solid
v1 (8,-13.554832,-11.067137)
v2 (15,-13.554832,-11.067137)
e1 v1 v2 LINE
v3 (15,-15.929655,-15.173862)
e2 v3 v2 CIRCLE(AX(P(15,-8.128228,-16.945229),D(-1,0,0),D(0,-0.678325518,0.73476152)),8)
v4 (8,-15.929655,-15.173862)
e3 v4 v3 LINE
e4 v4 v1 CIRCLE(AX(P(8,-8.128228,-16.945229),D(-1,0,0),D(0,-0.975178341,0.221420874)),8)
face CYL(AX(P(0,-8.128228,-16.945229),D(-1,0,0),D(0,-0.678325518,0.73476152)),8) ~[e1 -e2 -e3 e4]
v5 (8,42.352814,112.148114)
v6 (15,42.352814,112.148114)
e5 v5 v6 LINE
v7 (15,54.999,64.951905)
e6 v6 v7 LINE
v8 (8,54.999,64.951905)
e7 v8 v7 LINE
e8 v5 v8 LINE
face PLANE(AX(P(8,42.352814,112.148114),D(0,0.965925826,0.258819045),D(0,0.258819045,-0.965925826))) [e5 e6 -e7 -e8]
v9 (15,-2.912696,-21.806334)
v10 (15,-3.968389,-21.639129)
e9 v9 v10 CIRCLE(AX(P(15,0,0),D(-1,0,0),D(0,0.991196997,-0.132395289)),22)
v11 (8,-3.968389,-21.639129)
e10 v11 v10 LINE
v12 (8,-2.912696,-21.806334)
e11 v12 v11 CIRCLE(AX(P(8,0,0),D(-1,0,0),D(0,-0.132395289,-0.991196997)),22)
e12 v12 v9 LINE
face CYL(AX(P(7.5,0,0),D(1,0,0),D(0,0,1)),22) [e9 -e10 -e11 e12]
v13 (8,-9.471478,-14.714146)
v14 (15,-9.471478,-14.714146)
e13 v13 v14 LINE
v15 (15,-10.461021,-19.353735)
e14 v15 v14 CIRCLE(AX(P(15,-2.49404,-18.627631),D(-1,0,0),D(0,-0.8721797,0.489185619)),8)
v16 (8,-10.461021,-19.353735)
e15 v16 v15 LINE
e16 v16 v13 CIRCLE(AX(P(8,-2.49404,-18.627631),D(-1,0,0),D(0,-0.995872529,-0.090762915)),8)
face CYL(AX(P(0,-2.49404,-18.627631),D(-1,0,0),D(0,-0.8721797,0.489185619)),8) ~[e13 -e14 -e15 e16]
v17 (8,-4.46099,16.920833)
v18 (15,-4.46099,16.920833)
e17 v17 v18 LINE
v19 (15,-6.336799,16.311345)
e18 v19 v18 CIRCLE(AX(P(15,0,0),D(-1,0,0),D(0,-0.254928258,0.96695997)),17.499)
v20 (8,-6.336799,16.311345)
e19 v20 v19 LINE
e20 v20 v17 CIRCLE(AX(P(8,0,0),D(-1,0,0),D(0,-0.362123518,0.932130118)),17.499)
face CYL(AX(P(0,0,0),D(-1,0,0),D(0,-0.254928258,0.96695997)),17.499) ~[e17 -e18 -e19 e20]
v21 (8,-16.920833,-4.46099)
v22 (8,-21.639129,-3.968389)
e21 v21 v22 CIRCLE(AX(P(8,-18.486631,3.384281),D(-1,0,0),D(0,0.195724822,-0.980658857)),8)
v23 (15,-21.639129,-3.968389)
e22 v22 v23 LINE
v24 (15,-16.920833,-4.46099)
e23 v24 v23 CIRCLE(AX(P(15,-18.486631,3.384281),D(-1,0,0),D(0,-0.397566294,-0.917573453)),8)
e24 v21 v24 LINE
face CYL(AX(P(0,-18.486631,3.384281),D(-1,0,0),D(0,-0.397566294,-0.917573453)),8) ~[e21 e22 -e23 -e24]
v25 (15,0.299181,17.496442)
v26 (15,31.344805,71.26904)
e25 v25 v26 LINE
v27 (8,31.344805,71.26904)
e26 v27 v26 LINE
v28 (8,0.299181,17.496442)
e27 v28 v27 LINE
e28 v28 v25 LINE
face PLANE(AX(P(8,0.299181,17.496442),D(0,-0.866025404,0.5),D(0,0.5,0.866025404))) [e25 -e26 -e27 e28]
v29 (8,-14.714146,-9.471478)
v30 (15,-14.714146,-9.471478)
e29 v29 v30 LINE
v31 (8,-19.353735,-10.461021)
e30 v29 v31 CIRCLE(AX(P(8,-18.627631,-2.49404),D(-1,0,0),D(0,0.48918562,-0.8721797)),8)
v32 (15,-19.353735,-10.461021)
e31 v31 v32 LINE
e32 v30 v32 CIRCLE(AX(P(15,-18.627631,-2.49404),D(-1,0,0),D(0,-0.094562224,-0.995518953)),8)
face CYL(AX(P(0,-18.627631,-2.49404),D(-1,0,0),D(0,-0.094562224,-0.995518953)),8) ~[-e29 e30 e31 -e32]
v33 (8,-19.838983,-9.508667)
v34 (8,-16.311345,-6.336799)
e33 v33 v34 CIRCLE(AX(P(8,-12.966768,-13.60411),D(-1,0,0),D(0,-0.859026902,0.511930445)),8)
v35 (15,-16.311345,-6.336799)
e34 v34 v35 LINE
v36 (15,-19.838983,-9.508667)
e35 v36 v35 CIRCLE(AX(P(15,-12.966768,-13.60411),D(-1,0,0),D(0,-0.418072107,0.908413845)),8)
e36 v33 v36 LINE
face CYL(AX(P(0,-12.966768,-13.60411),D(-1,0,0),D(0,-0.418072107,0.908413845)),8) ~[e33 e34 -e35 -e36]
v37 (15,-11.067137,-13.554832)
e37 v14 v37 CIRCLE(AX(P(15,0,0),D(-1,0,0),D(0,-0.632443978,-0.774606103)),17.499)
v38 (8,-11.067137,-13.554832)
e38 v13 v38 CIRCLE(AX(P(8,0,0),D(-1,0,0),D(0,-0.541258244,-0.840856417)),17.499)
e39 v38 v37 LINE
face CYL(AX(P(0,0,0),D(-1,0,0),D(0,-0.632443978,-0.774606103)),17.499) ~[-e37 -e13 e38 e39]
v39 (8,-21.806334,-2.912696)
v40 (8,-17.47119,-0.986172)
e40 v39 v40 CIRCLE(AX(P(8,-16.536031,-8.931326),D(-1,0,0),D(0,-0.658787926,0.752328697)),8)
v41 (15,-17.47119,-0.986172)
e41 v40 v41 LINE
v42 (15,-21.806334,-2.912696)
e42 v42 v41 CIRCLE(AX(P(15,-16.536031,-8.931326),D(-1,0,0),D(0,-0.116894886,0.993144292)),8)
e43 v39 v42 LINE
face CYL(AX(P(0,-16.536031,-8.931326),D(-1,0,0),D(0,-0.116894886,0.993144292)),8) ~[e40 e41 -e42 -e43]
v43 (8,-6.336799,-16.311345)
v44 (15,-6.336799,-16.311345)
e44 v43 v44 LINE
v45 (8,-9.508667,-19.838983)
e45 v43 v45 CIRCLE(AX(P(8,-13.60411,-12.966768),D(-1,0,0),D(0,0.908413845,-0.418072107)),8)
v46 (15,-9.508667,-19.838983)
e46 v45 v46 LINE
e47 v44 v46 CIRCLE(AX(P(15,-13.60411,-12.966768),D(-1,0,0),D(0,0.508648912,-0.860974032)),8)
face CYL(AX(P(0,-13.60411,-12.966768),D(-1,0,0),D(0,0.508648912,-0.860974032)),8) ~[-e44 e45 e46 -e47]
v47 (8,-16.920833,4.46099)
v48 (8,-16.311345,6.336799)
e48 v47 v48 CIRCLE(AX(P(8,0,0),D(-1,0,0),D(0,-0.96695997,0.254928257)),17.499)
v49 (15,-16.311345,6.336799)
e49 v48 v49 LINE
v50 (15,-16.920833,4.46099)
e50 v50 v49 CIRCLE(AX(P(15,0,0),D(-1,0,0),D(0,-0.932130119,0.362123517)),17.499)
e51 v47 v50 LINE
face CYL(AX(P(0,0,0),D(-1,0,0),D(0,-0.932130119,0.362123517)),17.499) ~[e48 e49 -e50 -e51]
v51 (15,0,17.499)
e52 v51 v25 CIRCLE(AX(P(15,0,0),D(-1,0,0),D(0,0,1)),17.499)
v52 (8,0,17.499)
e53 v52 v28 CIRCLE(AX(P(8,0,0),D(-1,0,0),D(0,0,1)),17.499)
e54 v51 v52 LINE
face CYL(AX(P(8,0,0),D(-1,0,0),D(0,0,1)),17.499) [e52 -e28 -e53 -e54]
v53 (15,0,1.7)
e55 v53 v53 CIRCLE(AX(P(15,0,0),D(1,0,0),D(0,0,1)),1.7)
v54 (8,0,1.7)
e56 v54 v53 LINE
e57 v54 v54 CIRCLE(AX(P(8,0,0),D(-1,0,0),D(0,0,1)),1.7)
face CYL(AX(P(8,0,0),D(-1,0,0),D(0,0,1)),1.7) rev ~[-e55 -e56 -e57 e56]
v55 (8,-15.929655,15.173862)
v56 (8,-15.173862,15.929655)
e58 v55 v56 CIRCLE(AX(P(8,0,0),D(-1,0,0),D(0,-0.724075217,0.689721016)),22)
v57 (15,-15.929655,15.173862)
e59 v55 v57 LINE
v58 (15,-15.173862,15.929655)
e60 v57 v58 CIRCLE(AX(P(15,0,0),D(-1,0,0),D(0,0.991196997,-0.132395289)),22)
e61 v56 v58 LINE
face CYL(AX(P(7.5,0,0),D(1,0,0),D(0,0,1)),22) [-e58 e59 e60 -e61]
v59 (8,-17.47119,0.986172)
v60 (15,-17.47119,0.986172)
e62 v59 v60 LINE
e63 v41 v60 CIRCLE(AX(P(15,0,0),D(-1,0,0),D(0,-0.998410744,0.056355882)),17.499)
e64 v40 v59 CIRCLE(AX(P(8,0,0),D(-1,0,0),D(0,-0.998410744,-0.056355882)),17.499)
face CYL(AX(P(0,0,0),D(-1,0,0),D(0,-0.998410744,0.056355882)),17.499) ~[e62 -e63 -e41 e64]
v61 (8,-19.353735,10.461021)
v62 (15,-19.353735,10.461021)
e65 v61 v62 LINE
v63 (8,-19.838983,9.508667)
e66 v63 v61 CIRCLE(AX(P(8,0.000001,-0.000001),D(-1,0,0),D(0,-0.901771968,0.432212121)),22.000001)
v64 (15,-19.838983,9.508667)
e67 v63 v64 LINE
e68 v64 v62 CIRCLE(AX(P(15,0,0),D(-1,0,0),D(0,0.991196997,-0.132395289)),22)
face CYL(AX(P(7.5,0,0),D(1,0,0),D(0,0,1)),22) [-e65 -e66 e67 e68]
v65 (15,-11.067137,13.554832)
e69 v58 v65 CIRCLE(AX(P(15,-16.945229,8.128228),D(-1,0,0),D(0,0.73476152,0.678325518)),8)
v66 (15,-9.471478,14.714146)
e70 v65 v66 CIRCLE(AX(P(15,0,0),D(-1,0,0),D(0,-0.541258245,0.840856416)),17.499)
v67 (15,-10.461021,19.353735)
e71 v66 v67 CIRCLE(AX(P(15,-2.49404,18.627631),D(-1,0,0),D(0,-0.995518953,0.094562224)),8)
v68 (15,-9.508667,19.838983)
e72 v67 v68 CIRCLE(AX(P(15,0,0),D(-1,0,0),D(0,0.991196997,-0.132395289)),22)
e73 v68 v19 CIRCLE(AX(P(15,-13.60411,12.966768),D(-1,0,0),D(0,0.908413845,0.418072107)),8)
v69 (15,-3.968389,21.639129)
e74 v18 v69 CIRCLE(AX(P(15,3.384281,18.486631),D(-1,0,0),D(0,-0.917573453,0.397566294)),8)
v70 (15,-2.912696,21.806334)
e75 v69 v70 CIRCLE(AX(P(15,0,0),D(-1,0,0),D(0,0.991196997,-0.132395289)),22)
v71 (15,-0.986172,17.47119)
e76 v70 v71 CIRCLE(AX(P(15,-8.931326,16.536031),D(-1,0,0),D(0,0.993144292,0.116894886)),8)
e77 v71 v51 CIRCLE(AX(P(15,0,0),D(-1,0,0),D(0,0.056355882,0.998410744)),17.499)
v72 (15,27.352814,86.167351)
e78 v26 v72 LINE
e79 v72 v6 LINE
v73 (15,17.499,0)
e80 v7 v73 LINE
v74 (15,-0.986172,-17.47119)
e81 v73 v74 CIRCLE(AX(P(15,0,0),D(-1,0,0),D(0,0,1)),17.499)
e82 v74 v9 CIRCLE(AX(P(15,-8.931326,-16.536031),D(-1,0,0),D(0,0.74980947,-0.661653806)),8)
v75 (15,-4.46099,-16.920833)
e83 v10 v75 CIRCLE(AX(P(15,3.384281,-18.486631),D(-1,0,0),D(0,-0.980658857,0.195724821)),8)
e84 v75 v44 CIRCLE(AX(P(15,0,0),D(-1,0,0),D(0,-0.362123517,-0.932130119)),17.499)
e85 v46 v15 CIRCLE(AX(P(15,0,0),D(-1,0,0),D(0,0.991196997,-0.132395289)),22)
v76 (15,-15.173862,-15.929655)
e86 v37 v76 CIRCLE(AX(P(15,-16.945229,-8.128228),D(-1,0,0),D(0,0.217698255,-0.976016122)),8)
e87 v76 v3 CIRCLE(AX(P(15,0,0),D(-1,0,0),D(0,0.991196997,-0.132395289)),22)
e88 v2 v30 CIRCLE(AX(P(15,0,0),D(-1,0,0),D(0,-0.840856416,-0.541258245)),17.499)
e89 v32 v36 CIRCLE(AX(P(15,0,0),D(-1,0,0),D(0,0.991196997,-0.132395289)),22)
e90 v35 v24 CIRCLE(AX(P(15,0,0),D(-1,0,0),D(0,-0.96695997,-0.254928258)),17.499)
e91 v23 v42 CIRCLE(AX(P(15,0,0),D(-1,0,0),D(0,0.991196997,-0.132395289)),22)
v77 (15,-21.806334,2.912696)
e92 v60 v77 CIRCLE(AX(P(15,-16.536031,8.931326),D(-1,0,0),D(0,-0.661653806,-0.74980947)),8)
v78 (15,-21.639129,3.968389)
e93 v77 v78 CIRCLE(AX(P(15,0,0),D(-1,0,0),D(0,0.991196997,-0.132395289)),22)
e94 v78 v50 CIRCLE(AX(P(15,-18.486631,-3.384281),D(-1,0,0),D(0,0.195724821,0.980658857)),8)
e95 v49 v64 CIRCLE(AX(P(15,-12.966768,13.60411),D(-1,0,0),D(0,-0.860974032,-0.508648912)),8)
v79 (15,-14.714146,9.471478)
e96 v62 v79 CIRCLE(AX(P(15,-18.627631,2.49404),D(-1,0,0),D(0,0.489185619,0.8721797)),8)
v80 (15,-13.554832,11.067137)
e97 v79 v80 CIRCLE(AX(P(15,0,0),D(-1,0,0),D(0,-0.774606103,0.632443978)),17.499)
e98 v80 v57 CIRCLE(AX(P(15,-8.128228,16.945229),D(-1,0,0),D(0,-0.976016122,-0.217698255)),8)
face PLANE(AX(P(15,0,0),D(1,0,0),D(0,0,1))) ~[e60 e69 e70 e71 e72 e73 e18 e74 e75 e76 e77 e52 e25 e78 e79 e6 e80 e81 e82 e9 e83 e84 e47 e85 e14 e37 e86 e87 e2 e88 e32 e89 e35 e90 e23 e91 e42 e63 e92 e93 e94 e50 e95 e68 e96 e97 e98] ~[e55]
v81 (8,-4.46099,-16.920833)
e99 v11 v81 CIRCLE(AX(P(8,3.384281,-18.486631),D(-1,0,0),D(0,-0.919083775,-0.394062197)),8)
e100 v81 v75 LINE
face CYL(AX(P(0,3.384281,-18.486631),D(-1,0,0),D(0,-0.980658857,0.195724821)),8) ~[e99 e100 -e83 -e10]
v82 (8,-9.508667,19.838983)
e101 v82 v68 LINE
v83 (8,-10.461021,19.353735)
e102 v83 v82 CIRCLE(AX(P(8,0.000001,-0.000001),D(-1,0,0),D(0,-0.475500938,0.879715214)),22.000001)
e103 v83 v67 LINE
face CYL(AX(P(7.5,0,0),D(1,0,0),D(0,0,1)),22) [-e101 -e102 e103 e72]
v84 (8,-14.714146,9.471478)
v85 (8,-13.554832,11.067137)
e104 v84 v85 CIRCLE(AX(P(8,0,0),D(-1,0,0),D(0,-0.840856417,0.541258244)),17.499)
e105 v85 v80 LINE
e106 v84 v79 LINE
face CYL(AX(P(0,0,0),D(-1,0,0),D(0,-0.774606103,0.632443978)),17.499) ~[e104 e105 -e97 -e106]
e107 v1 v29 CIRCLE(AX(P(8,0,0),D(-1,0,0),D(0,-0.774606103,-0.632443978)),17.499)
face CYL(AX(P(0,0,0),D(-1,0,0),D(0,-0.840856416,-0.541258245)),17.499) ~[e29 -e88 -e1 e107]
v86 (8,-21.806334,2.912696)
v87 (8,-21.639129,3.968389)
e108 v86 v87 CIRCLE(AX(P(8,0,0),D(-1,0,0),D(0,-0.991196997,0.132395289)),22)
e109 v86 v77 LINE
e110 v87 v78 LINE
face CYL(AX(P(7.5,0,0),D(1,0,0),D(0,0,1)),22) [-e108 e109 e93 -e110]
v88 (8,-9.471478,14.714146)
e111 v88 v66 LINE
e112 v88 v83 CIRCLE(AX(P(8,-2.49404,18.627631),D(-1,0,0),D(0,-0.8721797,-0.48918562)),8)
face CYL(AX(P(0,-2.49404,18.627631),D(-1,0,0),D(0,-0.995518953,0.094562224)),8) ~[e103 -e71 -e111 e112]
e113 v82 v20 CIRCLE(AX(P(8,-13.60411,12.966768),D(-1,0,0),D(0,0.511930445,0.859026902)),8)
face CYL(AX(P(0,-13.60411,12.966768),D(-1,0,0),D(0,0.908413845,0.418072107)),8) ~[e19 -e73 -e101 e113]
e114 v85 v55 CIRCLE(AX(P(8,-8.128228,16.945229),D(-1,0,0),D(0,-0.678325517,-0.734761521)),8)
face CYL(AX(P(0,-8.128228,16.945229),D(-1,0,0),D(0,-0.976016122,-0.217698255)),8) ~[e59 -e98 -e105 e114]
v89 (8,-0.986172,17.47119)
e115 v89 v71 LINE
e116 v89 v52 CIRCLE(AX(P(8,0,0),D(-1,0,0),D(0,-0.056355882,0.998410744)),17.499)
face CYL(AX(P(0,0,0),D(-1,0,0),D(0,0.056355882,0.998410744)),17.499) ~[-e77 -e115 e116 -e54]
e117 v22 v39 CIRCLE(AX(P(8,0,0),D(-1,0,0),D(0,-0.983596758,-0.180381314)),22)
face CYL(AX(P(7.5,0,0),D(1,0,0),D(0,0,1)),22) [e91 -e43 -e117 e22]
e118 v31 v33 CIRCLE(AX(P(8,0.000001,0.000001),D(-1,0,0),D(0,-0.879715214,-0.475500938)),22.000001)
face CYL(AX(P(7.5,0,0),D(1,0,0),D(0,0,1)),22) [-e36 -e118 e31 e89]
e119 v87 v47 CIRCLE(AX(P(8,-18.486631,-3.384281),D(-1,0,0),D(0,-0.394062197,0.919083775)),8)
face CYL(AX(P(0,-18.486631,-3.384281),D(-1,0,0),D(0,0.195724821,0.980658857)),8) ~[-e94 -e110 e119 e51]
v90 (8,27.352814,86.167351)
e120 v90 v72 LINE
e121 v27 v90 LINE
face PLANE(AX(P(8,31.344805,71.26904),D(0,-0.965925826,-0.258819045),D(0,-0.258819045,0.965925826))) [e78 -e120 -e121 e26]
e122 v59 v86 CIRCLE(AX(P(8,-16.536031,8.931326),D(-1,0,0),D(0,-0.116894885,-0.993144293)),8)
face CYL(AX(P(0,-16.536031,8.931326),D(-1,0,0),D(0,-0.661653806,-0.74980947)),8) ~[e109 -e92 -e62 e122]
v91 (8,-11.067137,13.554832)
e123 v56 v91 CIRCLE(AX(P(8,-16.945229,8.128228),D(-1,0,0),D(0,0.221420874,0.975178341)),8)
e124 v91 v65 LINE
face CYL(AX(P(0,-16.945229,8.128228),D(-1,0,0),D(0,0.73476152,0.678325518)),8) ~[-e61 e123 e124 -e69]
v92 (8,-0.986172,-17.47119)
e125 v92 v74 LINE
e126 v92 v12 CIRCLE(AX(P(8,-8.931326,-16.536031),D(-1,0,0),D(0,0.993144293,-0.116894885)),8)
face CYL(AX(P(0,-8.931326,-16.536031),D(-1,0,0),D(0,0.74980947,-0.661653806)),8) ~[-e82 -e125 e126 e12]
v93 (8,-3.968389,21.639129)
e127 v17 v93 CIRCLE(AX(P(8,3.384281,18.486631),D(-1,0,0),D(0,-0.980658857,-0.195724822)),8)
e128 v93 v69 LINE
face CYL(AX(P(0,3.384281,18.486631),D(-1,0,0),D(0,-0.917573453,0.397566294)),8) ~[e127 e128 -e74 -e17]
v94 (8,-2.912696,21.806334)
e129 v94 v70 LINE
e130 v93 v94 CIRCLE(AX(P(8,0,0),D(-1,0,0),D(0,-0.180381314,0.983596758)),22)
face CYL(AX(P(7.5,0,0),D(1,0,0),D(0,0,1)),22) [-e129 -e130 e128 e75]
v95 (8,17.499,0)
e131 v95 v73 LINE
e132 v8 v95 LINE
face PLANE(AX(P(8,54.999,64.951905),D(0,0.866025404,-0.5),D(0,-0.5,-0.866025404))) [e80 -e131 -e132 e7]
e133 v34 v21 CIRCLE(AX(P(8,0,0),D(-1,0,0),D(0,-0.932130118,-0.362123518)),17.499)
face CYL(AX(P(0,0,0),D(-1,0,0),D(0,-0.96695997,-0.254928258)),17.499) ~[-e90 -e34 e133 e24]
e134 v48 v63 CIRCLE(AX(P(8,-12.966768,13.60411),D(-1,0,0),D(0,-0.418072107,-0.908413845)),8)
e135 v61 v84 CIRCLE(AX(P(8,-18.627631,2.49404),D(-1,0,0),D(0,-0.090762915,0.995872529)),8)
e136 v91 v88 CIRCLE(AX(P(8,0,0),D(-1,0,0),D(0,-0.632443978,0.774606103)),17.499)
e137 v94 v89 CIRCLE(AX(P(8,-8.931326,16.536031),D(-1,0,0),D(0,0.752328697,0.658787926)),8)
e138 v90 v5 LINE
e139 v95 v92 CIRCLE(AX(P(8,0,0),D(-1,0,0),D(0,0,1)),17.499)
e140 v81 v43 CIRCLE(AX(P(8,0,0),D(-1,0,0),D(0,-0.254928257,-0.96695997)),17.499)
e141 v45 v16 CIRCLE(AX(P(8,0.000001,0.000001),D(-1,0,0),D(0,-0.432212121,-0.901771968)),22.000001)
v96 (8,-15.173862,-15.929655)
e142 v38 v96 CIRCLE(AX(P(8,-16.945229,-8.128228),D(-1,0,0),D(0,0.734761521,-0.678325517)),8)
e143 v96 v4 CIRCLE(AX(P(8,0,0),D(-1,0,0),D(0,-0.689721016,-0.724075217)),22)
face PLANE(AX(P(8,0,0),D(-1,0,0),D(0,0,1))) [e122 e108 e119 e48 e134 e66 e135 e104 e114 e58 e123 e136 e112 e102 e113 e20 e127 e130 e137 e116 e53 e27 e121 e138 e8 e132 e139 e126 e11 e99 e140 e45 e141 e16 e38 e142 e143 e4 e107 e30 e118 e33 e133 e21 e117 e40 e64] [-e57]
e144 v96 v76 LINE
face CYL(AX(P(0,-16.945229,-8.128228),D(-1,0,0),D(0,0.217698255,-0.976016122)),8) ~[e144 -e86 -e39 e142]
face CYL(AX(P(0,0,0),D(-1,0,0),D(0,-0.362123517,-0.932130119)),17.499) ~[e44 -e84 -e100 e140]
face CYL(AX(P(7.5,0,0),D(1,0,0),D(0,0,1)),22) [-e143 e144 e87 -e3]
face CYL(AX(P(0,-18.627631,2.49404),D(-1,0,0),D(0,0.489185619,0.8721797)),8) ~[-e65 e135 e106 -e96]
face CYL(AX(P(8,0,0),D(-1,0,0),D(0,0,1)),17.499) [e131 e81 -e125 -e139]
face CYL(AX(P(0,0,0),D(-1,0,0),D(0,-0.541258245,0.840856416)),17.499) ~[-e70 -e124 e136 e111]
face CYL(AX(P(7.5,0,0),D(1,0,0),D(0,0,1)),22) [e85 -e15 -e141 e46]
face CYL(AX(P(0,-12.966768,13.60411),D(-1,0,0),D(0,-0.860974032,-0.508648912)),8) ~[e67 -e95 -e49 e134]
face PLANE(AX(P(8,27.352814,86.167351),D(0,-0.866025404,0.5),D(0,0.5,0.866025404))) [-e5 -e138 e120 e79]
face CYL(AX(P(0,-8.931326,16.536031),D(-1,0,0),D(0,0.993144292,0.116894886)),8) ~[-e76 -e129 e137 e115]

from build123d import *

# Parameters (mm, degrees)
BASPROSKE_W         = 15
BASPROSKE_H         = 22
TOOTHCUT_DEPTH      = 35.539832078
TEETHCUTS_COUNT     = 20
TEETHCUTS_ANGLE     = 342
BORSKE_R            = 0.5
BORE_DEPTH          = 50.0000508
SKETCH1_R           = 11.1
CUT_EXTRUDE1_DEPTH  = 16
CUT_EXTRUDE2_DEPTH  = 8
SKETCH3_R           = 11.1
BOSS_EXTRUDE2_DEPTH = 7
SKETCH5_W           = 56.998857039
SKETCH5_H           = 22.722114901
CUT_EXTRUDE3_DEPTH  = 7
SKETCH6_R           = 17.499
BOSS_EXTRUDE3_DEPTH = 7
SKETCH7_R           = 1.7
CUT_EXTRUDE4_DEPTH  = 7
BOSS_EXTRUDE5_DEPTH = 7


with BuildPart() as part:
    # BasProSke → Base-Revolve (revolve)
    with BuildSketch(Plane(origin=(0, 0, 0), x_dir=(1, 0, 0), z_dir=(0, 1, 0)), mode=Mode.PRIVATE) as base_revolve_sk:
        with Locations((7.5, 11)):
            Rectangle(BASPROSKE_W, BASPROSKE_H)
    revolve(base_revolve_sk.sketch.rotate(Axis((-10, 0, 0), (1, 0, 0)), 180), axis=Axis((-10, 0, 0), (1, 0, 0)))

    # TooCutSke → ToothCut (cut, through all)
    with BuildSketch(Plane(origin=(0, 0, 0), x_dir=(0, 0, -1), z_dir=(1, 0, 0))):
        with BuildLine():
            ThreePointArc((0.986171591, 17.471189616), (0, 17.499), (-0.986171591, 17.471189616))
            ThreePointArc((-0.986171591, 17.471189616), (-1.626916196, 19.798789858), (-2.932850173, 21.829260982))
            ThreePointArc((-2.932850173, 21.829260982), (0, 22.0254), (2.932850173, 21.829260982))
            ThreePointArc((2.932850173, 21.829260982), (1.626916196, 19.798789858), (0.986171591, 17.471189616))
        make_face()
    toothcut = extrude(amount=TOOTHCUT_DEPTH, mode=Mode.SUBTRACT)

    # TeethCuts: ToothCut ×20 about axis
    teethcuts_axis = Axis((-10, 0, 0), (1, 0, 0))
    for i in range(1, TEETHCUTS_COUNT):
        add(toothcut.rotate(teethcuts_axis, i * TEETHCUTS_ANGLE / (TEETHCUTS_COUNT - 1)), mode=Mode.SUBTRACT)

    # BorSke → Bore (cut, symmetric)
    with BuildSketch(Plane(origin=(0, 0, 0), x_dir=(0, 0, -1), z_dir=(1, 0, 0))):
        with Locations(Location((0, 0, 0), (0, 0, 180))):
            Circle(BORSKE_R)
    extrude(amount=BORE_DEPTH, both=True, mode=Mode.SUBTRACT)

    # Sketch1 → Cut-Extrude1 (cut)
    with BuildSketch(Plane.ZY):
        Circle(SKETCH1_R)
    extrude(amount=-CUT_EXTRUDE1_DEPTH, mode=Mode.SUBTRACT)

    # Sketch2 → Cut-Extrude2 (cut)
    with BuildSketch(Plane.ZY):
        with BuildLine():
            ThreePointArc((17.471189616, 0.986171591), (19.784848102, 1.620704589), (21.806333941, 2.912696354))
            ThreePointArc((21.806333941, 2.912696354), (21.729143493, 3.441558231), (21.639128664, 3.968388926))
            ThreePointArc((21.639128664, 3.968388926), (19.317333972, 4.572472634), (16.920832513, 4.460989585))
            ThreePointArc((16.920832513, 4.460989585), (16.642537979, 5.407488385), (16.31134495, 6.336799421))
            ThreePointArc((16.31134495, 6.336799421), (18.31568345, 7.655235955), (19.838983319, 9.50866662))
            ThreePointArc((19.838983319, 9.50866662), (19.602143532, 9.987790994), (19.353734704, 10.461020648))
            ThreePointArc((19.353734704, 10.461020648), (16.958904602, 10.318064378), (14.714146429, 9.471478019))
            ThreePointArc((14.714146429, 9.471478019), (14.156988385, 10.28565413), (13.554832194, 11.067137173))
            ThreePointArc((13.554832194, 11.067137173), (15.05365209, 12.940419489), (15.929654782, 15.173862347))
            ThreePointArc((15.929654782, 15.173862347), (15.556349186, 15.556349186), (15.173862347, 15.929654782))
            ThreePointArc((15.173862347, 15.929654782), (12.940419489, 15.05365209), (11.067137173, 13.554832194))
            ThreePointArc((11.067137173, 13.554832194), (10.28565413, 14.156988385), (9.471478019, 14.714146429))
            ThreePointArc((9.471478019, 14.714146429), (10.318064378, 16.958904602), (10.461020648, 19.353734704))
            ThreePointArc((10.461020648, 19.353734704), (9.987790994, 19.602143532), (9.50866662, 19.838983319))
            ThreePointArc((9.50866662, 19.838983319), (7.655235955, 18.31568345), (6.336799421, 16.31134495))
            ThreePointArc((6.336799421, 16.31134495), (5.407488385, 16.642537979), (4.460989585, 16.920832513))
            ThreePointArc((4.460989585, 16.920832513), (4.572472634, 19.317333972), (3.968388926, 21.639128664))
            ThreePointArc((3.968388926, 21.639128664), (3.441558231, 21.729143493), (2.912696354, 21.806333941))
            ThreePointArc((2.912696354, 21.806333941), (1.620704589, 19.784848102), (0.986171591, 17.471189616))
            ThreePointArc((0.986171591, 17.471189616), (0, 17.499), (-0.986171591, 17.471189616))
            ThreePointArc((-0.986171591, 17.471189616), (-1.620704589, 19.784848102), (-2.912696354, 21.806333941))
            ThreePointArc((-2.912696354, 21.806333941), (-3.441558231, 21.729143493), (-3.968388926, 21.639128664))
            ThreePointArc((-3.968388926, 21.639128664), (-4.572472634, 19.317333972), (-4.460989585, 16.920832513))
            ThreePointArc((-4.460989585, 16.920832513), (-5.407488385, 16.642537979), (-6.336799421, 16.31134495))
            ThreePointArc((-6.336799421, 16.31134495), (-7.655235955, 18.31568345), (-9.50866662, 19.838983319))
            ThreePointArc((-9.50866662, 19.838983319), (-9.987790994, 19.602143532), (-10.461020648, 19.353734704))
            ThreePointArc((-10.461020648, 19.353734704), (-10.318064378, 16.958904602), (-9.471478019, 14.714146429))
            ThreePointArc((-9.471478019, 14.714146429), (-10.28565413, 14.156988385), (-11.067137173, 13.554832194))
            ThreePointArc((-11.067137173, 13.554832194), (-12.940419489, 15.05365209), (-15.173862347, 15.929654782))
            ThreePointArc((-15.173862347, 15.929654782), (-15.556349186, 15.556349186), (-15.929654782, 15.173862347))
            ThreePointArc((-15.929654782, 15.173862347), (-15.05365209, 12.940419489), (-13.554832194, 11.067137173))
            ThreePointArc((-13.554832194, 11.067137173), (-14.156988385, 10.28565413), (-14.714146429, 9.471478019))
            ThreePointArc((-14.714146429, 9.471478019), (-16.958904602, 10.318064378), (-19.353734704, 10.461020648))
            ThreePointArc((-19.353734704, 10.461020648), (-19.602143532, 9.987790994), (-19.838983319, 9.50866662))
            ThreePointArc((-19.838983319, 9.50866662), (-18.31568345, 7.655235955), (-16.31134495, 6.336799421))
            ThreePointArc((-16.31134495, 6.336799421), (-16.642537979, 5.407488385), (-16.920832513, 4.460989585))
            ThreePointArc((-16.920832513, 4.460989585), (-19.317333972, 4.572472634), (-21.639128664, 3.968388926))
            ThreePointArc((-21.639128664, 3.968388926), (-21.729143493, 3.441558231), (-21.806333941, 2.912696354))
            ThreePointArc((-21.806333941, 2.912696354), (-19.784848102, 1.620704589), (-17.471189616, 0.986171591))
            ThreePointArc((-17.471189616, 0.986171591), (-17.499, 0), (-17.471189616, -0.986171591))
            ThreePointArc((-17.471189616, -0.986171591), (-19.784848102, -1.620704589), (-21.806333941, -2.912696354))
            ThreePointArc((-21.806333941, -2.912696354), (-21.729143493, -3.441558231), (-21.639128664, -3.968388926))
            ThreePointArc((-21.639128664, -3.968388926), (-19.317333972, -4.572472634), (-16.920832513, -4.460989585))
            ThreePointArc((-16.920832513, -4.460989585), (-16.642537979, -5.407488385), (-16.31134495, -6.336799421))
            ThreePointArc((-16.31134495, -6.336799421), (-18.31568345, -7.655235955), (-19.838983319, -9.50866662))
            ThreePointArc((-19.838983319, -9.50866662), (-19.602143532, -9.987790994), (-19.353734704, -10.461020648))
            ThreePointArc((-19.353734704, -10.461020648), (-16.958904602, -10.318064378), (-14.714146429, -9.471478019))
            ThreePointArc((-14.714146429, -9.471478019), (-14.156988385, -10.28565413), (-13.554832194, -11.067137173))
            ThreePointArc((-13.554832194, -11.067137173), (-15.05365209, -12.940419489), (-15.929654782, -15.173862347))
            ThreePointArc((-15.929654782, -15.173862347), (-15.556349186, -15.556349186), (-15.173862347, -15.929654782))
            ThreePointArc((-15.173862347, -15.929654782), (-12.940419489, -15.05365209), (-11.067137173, -13.554832194))
            ThreePointArc((-11.067137173, -13.554832194), (-10.28565413, -14.156988385), (-9.471478019, -14.714146429))
            ThreePointArc((-9.471478019, -14.714146429), (-10.318064378, -16.958904602), (-10.461020648, -19.353734704))
            ThreePointArc((-10.461020648, -19.353734704), (-9.987790994, -19.602143532), (-9.50866662, -19.838983319))
            ThreePointArc((-9.50866662, -19.838983319), (-7.655235955, -18.31568345), (-6.336799421, -16.31134495))
            ThreePointArc((-6.336799421, -16.31134495), (-5.407488385, -16.642537979), (-4.460989585, -16.920832513))
            ThreePointArc((-4.460989585, -16.920832513), (-4.572472634, -19.317333972), (-3.968388926, -21.639128664))
            ThreePointArc((-3.968388926, -21.639128664), (-3.441558231, -21.729143493), (-2.912696354, -21.806333941))
            ThreePointArc((-2.912696354, -21.806333941), (-1.620704589, -19.784848102), (-0.986171591, -17.471189616))
            ThreePointArc((-0.986171591, -17.471189616), (0, -17.499), (0.986171591, -17.471189616))
            ThreePointArc((0.986171591, -17.471189616), (1.620704589, -19.784848102), (2.912696354, -21.806333941))
            ThreePointArc((2.912696354, -21.806333941), (3.441558231, -21.729143493), (3.968388926, -21.639128664))
            ThreePointArc((3.968388926, -21.639128664), (4.572472634, -19.317333972), (4.460989585, -16.920832513))
            ThreePointArc((4.460989585, -16.920832513), (5.407488385, -16.642537979), (6.336799421, -16.31134495))
            ThreePointArc((6.336799421, -16.31134495), (7.655235955, -18.31568345), (9.50866662, -19.838983319))
            ThreePointArc((9.50866662, -19.838983319), (9.987790994, -19.602143532), (10.461020648, -19.353734704))
            ThreePointArc((10.461020648, -19.353734704), (10.318064378, -16.958904602), (9.471478019, -14.714146429))
            ThreePointArc((9.471478019, -14.714146429), (10.28565413, -14.156988385), (11.067137173, -13.554832194))
            ThreePointArc((11.067137173, -13.554832194), (12.940419489, -15.05365209), (15.173862347, -15.929654782))
            ThreePointArc((15.173862347, -15.929654782), (15.556349186, -15.556349186), (15.929654782, -15.173862347))
            ThreePointArc((15.929654782, -15.173862347), (15.05365209, -12.940419489), (13.554832194, -11.067137173))
            ThreePointArc((13.554832194, -11.067137173), (14.156988385, -10.28565413), (14.714146429, -9.471478019))
            ThreePointArc((14.714146429, -9.471478019), (16.958904602, -10.318064378), (19.353734704, -10.461020648))
            ThreePointArc((19.353734704, -10.461020648), (19.602143532, -9.987790994), (19.838983319, -9.50866662))
            ThreePointArc((19.838983319, -9.50866662), (18.31568345, -7.655235955), (16.31134495, -6.336799421))
            ThreePointArc((16.31134495, -6.336799421), (16.642537979, -5.407488385), (16.920832513, -4.460989585))
            ThreePointArc((16.920832513, -4.460989585), (19.317333972, -4.572472634), (21.639128664, -3.968388926))
            ThreePointArc((21.639128664, -3.968388926), (21.729143493, -3.441558231), (21.806333941, -2.912696354))
            ThreePointArc((21.806333941, -2.912696354), (19.784848102, -1.620704589), (17.471189616, -0.986171591))
            ThreePointArc((17.471189616, -0.986171591), (17.499, 0), (17.471189616, 0.986171591))
        make_face()
    extrude(amount=-CUT_EXTRUDE2_DEPTH, mode=Mode.SUBTRACT)

    # Sketch3 → Boss-Extrude2 (add)
    with BuildSketch(Plane.ZY.offset(-8)):
        Circle(SKETCH3_R)
    extrude(amount=-BOSS_EXTRUDE2_DEPTH)

    # Sketch5 → Cut-Extrude3 (cut)
    with BuildSketch(Plane.ZY.offset(-8)):
        with Locations((-1.101858783, 11.361057451)):
            Rectangle(SKETCH5_W, SKETCH5_H)
    extrude(amount=-CUT_EXTRUDE3_DEPTH, mode=Mode.SUBTRACT)

    # Sketch6 → Boss-Extrude3 (add)
    with BuildSketch(Plane.ZY.offset(-8)):
        Circle(SKETCH6_R)
    extrude(amount=-BOSS_EXTRUDE3_DEPTH)

    # Sketch7 → Cut-Extrude4 (cut)
    with BuildSketch(Plane.ZY.offset(-8)):
        Circle(SKETCH7_R)
    extrude(amount=-CUT_EXTRUDE4_DEPTH, mode=Mode.SUBTRACT)

    # Sketch8 → Boss-Extrude5 (add)
    with BuildSketch(Plane.ZY.offset(-8)):
        with BuildLine():
            Line((64.951905284, 54.999), (0, 17.499))
            ThreePointArc((0, 17.499), (12.267429085, 12.478989729), (17.496442259, 0.299180999))
            Line((17.496442259, 0.299180999), (71.26903982, 31.344804676))
            Line((71.26903982, 31.344804676), (86.167351448, 27.352814106))
            Line((86.167351448, 27.352814106), (112.148113562, 42.352814106))
            Line((112.148113562, 42.352814106), (64.951905284, 54.999))
        make_face()
    extrude(amount=-BOSS_EXTRUDE5_DEPTH)


solid = part.part
